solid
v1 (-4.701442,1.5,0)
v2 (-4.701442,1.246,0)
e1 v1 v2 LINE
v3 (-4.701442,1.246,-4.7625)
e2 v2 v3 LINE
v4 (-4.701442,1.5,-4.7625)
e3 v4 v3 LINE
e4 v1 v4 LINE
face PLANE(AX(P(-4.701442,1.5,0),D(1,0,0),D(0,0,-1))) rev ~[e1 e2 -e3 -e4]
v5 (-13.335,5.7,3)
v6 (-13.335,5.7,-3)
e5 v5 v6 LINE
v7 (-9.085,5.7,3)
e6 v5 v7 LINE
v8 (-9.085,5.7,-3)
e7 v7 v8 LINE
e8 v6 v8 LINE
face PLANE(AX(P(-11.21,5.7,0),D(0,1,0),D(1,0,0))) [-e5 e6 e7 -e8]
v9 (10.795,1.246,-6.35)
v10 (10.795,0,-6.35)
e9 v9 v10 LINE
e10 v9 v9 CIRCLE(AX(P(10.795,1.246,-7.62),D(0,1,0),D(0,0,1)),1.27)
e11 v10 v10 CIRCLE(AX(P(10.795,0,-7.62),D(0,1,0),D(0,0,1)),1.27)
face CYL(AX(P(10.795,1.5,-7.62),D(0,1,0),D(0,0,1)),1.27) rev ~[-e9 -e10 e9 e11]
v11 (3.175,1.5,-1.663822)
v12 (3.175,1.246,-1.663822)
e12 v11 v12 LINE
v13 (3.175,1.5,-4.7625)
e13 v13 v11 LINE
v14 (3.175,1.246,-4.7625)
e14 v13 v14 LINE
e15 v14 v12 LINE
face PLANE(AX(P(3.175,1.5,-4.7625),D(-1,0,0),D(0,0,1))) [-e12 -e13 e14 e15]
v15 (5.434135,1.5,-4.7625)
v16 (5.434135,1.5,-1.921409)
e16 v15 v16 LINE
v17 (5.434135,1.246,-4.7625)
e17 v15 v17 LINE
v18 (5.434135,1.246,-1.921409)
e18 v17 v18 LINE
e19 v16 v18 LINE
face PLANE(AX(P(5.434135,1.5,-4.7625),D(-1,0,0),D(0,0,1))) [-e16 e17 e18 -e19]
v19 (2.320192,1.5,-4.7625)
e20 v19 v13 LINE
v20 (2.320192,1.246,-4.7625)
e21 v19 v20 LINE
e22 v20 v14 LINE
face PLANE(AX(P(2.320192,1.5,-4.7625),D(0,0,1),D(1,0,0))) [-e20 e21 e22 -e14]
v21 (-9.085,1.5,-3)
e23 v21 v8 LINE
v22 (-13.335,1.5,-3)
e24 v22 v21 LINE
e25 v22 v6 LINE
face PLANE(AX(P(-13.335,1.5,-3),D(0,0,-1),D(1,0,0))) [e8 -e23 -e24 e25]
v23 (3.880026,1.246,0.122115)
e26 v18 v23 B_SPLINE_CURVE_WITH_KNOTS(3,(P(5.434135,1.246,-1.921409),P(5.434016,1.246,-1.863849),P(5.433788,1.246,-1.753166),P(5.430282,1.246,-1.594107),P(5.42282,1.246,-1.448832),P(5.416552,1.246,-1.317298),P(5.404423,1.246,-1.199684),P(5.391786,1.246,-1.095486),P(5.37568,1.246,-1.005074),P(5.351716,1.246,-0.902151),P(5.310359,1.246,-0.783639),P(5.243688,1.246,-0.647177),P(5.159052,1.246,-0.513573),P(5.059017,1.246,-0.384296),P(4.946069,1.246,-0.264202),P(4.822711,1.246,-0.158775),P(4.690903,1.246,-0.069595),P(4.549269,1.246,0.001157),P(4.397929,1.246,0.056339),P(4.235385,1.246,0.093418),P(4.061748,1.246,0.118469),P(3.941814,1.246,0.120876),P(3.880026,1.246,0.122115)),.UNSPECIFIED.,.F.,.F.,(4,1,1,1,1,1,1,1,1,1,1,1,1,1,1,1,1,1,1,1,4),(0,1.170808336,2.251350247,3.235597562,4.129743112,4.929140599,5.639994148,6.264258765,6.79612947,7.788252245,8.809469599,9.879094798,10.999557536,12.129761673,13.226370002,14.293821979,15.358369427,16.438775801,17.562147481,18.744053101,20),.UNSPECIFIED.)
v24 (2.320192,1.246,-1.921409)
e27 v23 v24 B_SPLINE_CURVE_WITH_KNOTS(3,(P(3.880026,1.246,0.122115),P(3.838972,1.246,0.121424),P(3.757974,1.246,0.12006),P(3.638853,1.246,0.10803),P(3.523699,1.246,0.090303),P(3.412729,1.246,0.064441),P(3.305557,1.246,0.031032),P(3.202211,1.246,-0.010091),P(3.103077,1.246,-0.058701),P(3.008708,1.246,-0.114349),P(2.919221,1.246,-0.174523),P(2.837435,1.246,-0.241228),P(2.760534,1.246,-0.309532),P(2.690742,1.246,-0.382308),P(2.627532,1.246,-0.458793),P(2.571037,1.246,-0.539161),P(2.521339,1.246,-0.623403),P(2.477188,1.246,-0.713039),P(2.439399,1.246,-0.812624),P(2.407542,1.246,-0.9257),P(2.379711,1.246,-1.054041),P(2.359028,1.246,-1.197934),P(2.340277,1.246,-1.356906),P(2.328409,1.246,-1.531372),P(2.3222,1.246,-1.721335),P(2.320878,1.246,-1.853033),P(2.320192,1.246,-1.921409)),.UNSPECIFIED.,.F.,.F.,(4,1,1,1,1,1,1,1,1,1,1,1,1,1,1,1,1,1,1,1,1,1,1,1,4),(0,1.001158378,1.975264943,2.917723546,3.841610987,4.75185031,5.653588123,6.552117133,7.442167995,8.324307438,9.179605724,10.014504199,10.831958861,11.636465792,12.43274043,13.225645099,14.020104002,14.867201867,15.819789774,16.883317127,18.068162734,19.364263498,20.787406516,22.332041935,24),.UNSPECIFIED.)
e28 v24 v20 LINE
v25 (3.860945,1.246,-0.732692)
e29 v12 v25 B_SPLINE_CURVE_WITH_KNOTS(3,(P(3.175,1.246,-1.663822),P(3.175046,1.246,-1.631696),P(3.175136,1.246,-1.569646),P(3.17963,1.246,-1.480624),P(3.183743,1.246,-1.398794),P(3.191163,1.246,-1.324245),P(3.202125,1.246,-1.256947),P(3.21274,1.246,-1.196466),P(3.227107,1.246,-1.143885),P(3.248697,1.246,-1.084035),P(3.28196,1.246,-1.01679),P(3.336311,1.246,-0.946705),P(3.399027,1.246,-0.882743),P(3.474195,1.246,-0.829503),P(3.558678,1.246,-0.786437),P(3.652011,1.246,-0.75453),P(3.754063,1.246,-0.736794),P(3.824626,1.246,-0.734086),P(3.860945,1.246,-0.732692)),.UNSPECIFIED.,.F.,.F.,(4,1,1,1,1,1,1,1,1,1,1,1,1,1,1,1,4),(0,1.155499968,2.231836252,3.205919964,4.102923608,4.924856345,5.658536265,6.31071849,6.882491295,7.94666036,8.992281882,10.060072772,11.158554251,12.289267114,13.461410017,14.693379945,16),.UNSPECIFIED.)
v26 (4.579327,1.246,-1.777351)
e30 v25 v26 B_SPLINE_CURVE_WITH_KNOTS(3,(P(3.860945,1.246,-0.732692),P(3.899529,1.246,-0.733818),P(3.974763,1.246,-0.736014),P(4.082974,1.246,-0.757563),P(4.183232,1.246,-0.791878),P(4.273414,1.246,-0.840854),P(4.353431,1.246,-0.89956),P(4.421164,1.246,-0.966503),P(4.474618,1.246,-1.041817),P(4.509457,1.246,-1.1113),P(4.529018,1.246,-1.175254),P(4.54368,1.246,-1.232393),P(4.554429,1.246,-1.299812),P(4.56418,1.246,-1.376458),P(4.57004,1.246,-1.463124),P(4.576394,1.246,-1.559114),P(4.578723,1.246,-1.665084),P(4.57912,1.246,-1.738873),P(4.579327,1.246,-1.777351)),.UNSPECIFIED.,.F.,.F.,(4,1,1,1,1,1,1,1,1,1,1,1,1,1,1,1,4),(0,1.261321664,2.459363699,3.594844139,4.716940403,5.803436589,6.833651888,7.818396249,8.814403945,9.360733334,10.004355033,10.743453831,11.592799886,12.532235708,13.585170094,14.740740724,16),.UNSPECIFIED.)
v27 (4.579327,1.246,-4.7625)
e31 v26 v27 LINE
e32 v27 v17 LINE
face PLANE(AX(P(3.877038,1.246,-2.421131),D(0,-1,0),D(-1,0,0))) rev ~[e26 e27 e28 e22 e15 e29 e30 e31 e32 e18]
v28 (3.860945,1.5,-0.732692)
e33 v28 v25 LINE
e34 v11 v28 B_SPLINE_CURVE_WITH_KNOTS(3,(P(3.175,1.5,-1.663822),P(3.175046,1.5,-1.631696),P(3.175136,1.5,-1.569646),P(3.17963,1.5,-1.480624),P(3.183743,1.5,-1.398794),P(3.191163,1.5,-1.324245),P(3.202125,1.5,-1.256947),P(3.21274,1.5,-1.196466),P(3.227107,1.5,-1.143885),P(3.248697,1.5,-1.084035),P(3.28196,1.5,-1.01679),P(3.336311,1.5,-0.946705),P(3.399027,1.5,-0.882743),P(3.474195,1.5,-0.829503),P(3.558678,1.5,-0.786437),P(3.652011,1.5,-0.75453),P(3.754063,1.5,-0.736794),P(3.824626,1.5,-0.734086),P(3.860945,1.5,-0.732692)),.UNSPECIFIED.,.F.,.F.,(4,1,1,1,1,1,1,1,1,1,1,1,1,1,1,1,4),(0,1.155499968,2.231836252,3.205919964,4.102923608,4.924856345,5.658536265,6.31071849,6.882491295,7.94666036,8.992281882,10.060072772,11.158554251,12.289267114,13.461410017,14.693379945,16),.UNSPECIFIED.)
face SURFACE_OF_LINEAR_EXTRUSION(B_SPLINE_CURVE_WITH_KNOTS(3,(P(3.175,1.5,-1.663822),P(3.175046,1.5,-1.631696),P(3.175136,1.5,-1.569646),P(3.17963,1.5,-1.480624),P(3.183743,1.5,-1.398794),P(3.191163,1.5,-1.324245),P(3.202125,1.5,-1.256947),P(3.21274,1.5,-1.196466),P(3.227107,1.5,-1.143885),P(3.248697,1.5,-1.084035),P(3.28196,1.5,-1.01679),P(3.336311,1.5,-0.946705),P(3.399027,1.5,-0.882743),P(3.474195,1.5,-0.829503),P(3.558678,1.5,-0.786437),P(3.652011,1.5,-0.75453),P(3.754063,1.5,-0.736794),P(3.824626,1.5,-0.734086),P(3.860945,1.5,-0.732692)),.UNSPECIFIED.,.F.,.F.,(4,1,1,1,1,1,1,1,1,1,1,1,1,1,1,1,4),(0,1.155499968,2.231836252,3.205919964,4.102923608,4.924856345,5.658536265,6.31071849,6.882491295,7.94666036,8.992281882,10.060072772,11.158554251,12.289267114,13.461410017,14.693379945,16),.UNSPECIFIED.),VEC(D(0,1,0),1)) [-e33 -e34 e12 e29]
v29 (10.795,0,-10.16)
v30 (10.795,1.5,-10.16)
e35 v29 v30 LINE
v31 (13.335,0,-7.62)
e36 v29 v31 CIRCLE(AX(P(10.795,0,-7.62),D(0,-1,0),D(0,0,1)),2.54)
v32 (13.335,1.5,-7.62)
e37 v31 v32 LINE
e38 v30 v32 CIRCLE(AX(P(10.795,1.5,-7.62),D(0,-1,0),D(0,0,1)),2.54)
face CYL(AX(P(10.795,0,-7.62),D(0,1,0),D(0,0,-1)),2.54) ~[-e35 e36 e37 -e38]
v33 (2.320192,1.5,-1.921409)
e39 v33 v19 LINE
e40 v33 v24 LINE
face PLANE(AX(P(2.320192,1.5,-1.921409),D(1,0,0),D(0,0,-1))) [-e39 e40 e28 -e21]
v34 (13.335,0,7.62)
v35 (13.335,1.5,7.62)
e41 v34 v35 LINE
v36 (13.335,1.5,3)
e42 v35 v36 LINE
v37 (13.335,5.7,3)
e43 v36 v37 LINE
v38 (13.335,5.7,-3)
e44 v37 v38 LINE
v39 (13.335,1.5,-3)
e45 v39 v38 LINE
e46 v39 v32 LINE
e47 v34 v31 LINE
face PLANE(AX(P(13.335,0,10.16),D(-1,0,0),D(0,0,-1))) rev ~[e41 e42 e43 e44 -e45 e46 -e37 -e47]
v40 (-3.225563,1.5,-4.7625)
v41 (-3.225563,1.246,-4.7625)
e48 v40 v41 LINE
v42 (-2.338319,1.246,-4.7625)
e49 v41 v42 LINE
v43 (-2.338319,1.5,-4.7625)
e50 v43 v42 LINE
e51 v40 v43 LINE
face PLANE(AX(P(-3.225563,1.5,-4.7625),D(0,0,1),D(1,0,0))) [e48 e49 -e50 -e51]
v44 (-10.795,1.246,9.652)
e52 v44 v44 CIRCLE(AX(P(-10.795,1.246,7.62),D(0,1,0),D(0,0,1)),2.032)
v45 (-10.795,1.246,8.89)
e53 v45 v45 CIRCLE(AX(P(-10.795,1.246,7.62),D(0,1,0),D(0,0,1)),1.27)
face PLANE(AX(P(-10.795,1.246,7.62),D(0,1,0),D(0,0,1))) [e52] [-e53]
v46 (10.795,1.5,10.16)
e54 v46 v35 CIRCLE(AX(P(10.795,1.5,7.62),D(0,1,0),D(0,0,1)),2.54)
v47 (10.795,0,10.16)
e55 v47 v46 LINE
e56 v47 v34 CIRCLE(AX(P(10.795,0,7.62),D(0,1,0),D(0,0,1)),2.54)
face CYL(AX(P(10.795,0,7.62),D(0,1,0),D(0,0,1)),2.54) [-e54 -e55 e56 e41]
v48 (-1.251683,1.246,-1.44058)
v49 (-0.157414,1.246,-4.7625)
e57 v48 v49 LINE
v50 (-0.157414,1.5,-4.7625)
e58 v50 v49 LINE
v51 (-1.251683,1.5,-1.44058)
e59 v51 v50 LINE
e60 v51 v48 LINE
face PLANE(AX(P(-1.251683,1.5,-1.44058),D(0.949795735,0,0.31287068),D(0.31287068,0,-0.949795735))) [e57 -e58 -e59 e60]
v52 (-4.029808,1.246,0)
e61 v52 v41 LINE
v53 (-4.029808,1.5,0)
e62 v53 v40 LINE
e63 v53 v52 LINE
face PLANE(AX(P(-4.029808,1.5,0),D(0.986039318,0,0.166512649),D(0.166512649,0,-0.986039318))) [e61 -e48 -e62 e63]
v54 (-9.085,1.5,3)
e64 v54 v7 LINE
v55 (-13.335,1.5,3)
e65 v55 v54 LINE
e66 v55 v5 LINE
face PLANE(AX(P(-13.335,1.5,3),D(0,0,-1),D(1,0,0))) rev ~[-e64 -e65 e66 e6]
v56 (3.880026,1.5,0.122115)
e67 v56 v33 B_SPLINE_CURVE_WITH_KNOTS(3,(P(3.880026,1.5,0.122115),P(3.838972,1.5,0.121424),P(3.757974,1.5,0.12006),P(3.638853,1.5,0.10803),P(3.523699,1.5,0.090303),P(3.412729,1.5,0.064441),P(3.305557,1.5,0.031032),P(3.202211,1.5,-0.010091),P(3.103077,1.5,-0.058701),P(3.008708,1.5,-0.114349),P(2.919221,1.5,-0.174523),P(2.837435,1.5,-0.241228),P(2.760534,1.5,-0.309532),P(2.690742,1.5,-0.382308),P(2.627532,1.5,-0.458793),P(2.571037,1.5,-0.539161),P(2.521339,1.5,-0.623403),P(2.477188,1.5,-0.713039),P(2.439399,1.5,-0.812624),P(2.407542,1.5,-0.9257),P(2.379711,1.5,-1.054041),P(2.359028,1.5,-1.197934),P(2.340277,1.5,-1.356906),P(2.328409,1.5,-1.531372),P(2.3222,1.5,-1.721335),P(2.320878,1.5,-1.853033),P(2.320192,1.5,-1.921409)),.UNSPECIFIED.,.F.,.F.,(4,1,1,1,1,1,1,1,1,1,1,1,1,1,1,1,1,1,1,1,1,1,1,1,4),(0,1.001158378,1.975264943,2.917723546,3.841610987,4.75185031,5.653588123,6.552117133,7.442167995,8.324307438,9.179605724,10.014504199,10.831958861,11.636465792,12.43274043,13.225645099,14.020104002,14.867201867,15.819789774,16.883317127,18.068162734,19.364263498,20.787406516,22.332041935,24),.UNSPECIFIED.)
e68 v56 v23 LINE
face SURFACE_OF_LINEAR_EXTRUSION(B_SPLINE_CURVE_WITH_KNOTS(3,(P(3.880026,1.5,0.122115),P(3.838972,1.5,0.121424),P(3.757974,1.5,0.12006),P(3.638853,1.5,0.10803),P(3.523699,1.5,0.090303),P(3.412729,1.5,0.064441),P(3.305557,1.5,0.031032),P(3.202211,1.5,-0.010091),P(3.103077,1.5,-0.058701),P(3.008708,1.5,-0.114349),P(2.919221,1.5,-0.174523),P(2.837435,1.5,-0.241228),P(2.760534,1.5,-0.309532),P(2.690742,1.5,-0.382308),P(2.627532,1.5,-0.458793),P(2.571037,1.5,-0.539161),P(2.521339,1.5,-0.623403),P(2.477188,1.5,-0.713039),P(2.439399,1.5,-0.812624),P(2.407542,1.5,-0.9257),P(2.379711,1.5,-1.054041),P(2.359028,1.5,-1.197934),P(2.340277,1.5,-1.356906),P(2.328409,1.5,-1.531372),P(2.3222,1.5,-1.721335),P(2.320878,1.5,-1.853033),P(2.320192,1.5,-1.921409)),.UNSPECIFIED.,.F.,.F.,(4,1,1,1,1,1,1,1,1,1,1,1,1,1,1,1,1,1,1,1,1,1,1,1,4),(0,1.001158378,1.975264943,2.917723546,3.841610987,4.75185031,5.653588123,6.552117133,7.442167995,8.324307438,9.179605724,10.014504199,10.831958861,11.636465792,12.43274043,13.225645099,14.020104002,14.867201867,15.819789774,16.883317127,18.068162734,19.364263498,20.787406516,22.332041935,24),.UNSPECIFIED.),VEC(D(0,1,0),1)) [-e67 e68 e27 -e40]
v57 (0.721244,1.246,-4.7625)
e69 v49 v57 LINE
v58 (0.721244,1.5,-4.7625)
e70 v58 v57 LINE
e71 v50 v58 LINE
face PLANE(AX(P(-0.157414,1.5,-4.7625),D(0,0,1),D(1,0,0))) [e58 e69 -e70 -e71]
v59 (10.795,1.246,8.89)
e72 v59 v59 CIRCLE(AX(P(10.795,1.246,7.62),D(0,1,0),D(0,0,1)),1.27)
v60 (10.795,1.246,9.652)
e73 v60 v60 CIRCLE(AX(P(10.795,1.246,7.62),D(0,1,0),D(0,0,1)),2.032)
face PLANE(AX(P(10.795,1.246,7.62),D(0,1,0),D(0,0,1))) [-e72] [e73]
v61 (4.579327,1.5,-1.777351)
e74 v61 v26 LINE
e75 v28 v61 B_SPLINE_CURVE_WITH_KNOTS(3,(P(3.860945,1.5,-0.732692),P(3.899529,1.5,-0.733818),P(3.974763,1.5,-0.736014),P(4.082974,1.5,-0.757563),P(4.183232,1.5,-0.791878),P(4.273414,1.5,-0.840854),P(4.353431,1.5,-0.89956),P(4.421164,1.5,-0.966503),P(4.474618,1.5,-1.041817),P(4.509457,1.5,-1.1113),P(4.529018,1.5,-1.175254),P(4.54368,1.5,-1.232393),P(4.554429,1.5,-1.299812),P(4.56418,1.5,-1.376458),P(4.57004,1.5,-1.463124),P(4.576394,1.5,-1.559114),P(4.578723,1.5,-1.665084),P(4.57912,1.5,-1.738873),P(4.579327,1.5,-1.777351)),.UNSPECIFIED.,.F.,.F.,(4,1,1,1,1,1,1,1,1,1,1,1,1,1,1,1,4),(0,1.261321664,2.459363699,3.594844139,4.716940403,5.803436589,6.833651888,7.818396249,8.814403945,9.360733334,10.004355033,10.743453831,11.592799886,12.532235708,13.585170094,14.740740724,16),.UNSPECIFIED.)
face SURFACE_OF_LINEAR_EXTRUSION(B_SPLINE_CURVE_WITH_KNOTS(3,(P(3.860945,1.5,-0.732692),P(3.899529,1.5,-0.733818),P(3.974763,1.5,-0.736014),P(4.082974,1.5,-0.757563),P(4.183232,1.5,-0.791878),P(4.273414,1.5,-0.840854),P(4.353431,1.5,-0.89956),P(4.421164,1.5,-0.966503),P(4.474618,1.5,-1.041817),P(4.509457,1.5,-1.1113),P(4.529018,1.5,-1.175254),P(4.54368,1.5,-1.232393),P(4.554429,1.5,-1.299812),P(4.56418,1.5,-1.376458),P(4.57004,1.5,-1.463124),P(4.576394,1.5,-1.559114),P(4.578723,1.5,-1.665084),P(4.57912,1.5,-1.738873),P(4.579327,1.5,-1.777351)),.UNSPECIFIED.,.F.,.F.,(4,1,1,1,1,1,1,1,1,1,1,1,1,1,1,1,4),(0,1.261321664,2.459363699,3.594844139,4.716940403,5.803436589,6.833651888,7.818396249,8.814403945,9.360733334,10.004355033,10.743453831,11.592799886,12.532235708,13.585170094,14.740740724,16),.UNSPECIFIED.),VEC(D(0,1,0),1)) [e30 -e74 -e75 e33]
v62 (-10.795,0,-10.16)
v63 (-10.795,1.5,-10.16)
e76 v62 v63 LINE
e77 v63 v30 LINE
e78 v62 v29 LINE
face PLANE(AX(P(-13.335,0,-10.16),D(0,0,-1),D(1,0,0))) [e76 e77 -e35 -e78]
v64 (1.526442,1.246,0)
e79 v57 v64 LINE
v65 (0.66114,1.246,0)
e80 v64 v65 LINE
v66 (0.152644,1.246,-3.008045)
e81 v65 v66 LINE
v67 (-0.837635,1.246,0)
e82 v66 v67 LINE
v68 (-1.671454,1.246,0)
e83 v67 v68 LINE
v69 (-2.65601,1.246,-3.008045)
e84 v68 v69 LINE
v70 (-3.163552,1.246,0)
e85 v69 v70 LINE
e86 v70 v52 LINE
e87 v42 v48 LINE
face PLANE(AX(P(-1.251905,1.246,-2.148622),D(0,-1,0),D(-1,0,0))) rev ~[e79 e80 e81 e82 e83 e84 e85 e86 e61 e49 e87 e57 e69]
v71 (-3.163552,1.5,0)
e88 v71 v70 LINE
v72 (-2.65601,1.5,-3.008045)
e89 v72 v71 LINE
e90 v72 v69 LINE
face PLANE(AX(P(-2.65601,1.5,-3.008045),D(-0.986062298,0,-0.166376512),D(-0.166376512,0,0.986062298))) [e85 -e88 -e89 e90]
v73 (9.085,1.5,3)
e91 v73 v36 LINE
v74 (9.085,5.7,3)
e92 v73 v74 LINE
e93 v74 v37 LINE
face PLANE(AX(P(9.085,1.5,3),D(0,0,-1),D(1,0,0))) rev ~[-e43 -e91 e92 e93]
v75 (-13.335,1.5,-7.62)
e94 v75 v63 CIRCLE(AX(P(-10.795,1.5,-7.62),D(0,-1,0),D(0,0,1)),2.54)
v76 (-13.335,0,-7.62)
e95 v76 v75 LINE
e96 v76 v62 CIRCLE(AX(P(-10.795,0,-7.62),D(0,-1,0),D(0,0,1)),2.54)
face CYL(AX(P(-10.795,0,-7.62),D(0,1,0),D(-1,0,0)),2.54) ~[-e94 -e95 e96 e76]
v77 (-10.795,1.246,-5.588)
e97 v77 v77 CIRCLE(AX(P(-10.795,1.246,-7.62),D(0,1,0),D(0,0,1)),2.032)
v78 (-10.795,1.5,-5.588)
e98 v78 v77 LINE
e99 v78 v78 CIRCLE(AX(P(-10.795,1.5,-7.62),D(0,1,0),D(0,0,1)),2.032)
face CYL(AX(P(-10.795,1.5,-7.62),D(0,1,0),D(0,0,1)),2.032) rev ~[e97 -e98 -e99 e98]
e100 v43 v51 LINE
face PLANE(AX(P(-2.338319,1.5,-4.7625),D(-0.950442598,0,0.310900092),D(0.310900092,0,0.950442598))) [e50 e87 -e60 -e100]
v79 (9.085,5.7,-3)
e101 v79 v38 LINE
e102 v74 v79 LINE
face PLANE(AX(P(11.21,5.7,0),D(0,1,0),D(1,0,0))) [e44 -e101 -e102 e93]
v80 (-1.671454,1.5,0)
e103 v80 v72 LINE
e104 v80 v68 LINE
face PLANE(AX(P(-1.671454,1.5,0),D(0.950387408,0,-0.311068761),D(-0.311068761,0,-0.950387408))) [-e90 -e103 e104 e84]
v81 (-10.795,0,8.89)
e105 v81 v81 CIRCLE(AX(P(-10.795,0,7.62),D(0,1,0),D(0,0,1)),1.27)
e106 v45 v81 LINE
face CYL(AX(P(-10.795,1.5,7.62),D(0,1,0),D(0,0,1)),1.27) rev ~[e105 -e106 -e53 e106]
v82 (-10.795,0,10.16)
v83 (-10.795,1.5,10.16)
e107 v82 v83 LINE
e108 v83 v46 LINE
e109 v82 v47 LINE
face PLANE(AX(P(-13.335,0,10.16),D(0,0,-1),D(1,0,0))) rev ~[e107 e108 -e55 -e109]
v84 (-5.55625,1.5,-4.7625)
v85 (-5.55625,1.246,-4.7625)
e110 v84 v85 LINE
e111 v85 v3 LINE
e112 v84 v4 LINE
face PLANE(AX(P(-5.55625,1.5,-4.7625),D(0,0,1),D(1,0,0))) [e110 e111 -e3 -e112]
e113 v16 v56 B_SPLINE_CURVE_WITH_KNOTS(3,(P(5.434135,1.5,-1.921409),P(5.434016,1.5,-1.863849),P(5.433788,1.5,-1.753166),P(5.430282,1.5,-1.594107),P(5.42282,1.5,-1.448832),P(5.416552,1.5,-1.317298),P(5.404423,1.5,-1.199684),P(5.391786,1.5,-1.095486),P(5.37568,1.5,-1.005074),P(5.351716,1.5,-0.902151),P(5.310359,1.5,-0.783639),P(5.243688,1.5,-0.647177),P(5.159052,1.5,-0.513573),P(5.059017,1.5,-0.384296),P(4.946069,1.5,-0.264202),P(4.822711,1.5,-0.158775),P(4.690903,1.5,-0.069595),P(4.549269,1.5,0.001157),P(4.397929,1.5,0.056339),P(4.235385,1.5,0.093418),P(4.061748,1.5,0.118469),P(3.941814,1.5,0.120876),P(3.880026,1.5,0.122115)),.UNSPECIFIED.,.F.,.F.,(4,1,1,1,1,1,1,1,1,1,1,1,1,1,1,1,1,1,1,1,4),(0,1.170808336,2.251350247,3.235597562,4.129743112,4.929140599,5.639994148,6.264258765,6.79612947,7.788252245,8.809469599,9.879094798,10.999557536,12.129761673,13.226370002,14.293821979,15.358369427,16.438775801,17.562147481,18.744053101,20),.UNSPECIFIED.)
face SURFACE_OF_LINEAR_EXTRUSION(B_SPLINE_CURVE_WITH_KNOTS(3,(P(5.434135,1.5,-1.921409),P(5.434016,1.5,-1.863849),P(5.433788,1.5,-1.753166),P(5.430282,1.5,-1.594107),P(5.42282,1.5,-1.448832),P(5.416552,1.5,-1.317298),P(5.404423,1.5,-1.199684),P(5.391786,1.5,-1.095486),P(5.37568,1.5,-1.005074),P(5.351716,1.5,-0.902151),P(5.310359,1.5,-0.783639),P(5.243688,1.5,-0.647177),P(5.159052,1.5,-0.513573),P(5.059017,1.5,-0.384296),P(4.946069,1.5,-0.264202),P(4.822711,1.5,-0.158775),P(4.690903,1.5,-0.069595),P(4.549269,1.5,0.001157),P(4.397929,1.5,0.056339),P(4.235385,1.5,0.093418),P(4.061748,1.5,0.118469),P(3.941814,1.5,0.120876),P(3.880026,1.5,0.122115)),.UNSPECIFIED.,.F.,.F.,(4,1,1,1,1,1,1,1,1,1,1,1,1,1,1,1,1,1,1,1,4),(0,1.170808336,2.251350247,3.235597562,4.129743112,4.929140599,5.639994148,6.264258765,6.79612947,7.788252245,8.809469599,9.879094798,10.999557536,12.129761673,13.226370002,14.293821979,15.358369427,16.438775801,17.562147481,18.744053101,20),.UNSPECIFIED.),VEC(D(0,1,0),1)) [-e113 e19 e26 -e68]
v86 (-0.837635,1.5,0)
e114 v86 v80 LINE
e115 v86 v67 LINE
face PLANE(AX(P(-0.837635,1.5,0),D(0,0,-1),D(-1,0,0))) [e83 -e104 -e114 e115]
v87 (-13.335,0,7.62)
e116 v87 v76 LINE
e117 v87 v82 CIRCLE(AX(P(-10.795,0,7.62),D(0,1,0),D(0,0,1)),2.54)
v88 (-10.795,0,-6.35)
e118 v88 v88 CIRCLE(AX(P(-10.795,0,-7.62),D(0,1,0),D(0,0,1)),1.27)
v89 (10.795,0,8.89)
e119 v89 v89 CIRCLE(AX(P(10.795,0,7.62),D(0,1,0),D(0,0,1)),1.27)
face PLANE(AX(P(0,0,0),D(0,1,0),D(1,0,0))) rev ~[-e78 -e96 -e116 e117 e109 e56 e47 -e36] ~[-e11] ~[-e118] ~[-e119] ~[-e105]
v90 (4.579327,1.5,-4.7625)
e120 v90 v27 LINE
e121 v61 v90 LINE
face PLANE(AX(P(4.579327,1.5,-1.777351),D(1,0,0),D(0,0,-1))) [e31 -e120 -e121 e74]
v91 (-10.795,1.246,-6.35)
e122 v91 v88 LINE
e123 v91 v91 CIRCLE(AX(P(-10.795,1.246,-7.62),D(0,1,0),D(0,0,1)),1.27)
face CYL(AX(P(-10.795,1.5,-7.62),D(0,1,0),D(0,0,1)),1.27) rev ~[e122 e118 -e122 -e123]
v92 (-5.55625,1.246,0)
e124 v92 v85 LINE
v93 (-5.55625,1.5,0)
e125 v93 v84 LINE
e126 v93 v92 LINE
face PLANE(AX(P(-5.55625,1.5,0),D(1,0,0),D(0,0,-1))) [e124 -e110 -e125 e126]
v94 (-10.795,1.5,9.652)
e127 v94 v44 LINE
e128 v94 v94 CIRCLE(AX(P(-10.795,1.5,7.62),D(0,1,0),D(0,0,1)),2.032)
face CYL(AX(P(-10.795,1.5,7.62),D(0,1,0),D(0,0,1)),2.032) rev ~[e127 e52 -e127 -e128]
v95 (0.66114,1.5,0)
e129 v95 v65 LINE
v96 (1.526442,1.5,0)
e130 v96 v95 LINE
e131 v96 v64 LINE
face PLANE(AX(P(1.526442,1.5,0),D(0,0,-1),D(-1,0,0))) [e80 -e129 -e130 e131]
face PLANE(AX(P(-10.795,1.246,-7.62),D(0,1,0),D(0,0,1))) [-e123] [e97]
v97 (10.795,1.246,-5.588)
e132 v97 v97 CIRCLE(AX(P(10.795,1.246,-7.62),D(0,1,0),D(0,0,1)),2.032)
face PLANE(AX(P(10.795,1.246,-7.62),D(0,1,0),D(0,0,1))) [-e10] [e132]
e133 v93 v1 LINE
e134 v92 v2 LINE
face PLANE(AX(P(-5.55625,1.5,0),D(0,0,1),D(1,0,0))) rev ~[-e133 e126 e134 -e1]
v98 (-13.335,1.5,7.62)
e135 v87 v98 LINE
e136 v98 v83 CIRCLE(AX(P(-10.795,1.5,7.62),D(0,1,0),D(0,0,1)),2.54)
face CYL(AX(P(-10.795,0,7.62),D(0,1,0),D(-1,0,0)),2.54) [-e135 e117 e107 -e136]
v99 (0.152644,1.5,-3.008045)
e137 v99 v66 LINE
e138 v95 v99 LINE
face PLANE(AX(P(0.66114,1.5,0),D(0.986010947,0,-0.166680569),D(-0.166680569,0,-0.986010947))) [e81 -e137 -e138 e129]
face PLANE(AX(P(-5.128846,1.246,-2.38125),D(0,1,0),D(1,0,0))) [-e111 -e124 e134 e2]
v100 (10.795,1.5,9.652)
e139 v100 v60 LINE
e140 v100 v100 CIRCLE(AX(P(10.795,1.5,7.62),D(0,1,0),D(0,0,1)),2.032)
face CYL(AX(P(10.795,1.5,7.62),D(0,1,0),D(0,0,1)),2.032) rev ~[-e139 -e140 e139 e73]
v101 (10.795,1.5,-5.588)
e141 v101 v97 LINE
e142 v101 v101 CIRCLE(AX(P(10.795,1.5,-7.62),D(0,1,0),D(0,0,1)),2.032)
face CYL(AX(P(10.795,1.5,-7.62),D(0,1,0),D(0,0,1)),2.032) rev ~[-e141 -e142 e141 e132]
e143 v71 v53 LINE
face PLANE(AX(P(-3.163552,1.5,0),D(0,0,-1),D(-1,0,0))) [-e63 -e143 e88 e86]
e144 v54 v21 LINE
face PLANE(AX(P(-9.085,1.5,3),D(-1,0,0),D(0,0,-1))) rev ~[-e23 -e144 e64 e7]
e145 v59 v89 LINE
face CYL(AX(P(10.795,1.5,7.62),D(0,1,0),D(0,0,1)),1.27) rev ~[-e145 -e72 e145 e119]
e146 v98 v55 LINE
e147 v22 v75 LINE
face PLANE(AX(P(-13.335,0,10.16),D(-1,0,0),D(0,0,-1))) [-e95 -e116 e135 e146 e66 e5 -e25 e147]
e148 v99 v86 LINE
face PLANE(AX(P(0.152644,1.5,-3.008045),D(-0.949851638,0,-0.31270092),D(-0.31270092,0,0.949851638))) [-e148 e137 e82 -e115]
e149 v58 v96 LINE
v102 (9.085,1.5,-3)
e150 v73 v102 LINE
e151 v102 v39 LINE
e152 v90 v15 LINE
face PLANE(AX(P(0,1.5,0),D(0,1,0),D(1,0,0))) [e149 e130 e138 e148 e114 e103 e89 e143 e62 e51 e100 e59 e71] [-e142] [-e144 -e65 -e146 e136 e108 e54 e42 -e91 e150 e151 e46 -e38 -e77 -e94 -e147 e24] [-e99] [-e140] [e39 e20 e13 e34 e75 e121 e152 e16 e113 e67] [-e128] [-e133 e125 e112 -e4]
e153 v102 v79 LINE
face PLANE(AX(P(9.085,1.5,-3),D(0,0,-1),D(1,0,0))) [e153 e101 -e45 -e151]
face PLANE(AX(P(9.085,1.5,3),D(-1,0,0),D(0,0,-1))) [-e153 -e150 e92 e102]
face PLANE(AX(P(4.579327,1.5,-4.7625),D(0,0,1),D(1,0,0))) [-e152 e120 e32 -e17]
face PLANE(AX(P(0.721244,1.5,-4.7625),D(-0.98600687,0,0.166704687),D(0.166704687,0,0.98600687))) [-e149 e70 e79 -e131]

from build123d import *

# Parameters (mm, degrees)
SKETCH1_W           = 26.67
SKETCH1_H           = 20.32
BOSS_EXTRUDE1_DEPTH = 1.5
SKETCH2_R           = 1.27
CUT_EXTRUDE1_DEPTH  = 17.831453443
FILLET1_R           = 2.54
SKETCH3_W           = 0.854807692
SKETCH3_H           = 4.7625
CUT_EXTRUDE2_DEPTH  = 0.254
SKETCH4_R           = 2.032
SKETCH4_R_2         = 1.27
CUT_EXTRUDE3_DEPTH  = 0.254
SKETCH5_W           = 4.25
SKETCH5_H           = 6
BOSS_EXTRUDE3_DEPTH = 4.2


with BuildPart() as part:
    # Sketch1 → Boss-Extrude1 (new body)
    with BuildSketch(Plane(origin=(0, 0, 0), x_dir=(1, 0, 0), z_dir=(0, 1, 0))):
        Rectangle(SKETCH1_W, SKETCH1_H)
    extrude(amount=BOSS_EXTRUDE1_DEPTH)

    # Sketch2 → Cut-Extrude1 (cut, through all)
    with BuildSketch(Plane(origin=(0, 1.5, 0), x_dir=(1, 0, 0), z_dir=(0, 1, 0))):
        with Locations(Location((10.795, 7.62, 0), (0, 0, 270))):
            Circle(SKETCH2_R)
        with Locations(Location((-10.795, 7.62, 0), (0, 0, 270))):
            Circle(SKETCH2_R)
        with Locations(Location((-10.795, -7.62, 0), (0, 0, 270))):
            Circle(SKETCH2_R)
        with Locations(Location((10.795, -7.62, 0), (0, 0, 270))):
            Circle(SKETCH2_R)
    extrude(amount=-CUT_EXTRUDE1_DEPTH, mode=Mode.SUBTRACT)

    # Fillet1
    fillet1_edges = [part.edges().sort_by_distance(p)[0] for p in [
        (13.335, 0.75, 10.16),
        (-13.335, 0.75, 10.16),
        (-13.335, 0.75, -10.16),
        (13.335, 0.75, -10.16),
    ]]
    fillet(fillet1_edges, radius=FILLET1_R)

    # Sketch3 → Cut-Extrude2 (cut)
    with BuildSketch(Plane(origin=(0, 1.5, 0), x_dir=(1, 0, 0), z_dir=(0, 1, 0))):
        with Locations((-5.128846154, 2.38125)):
            Rectangle(SKETCH3_W, SKETCH3_H)
        Polygon((-3.225563401, 4.7625), (-2.33831881, 4.7625), (-1.251682692, 1.440579928), (-0.157414363, 4.7625), (0.72124399, 4.7625), (1.526442308, 0), (0.661140325, 0), (0.152644231, 3.008045373), (-0.837635216, 0), (-1.671454327, 0), (-2.656009615, 3.008045373), (-3.163551683, 0), (-4.029807692, 0), align=None)
        with BuildLine():
            Line((2.320192308, 4.7625), (3.175, 4.7625))
            Line((3.175, 4.7625), (3.175, 1.663822115))
            add(Edge.make_bspline(
                [(3.175, 1.663822115), (3.17504648, 1.631696367), (3.175136256, 1.569645816), (3.179630493, 1.480623591), (3.18374303, 1.398793527), (3.191163214, 1.32424521), (3.202125369, 1.256946752), (3.212740313, 1.19646585), (3.227106588, 1.143885348), (3.248696804, 1.08403497), (3.281960239, 1.016789802), (3.336310846, 0.946705344), (3.399026797, 0.882743105), (3.474195476, 0.82950336), (3.558678424, 0.786437205), (3.652011444, 0.75452995), (3.75406297, 0.736793753), (3.824626003, 0.734085998), (3.860945012, 0.732692308)],
                knots=[0, 0, 0, 0, 1.155499968, 2.231836252, 3.205919964, 4.102923608, 4.924856345, 5.658536265, 6.31071849, 6.882491295, 7.94666036, 8.992281882, 10.060072772, 11.158554251, 12.289267114, 13.461410017, 14.693379945, 16, 16, 16, 16], degree=3))
            add(Edge.make_bspline(
                [(3.860945012, 0.732692308), (3.899529477, 0.73381823), (3.974762653, 0.736013589), (4.082973598, 0.757563409), (4.183231653, 0.791878102), (4.273414012, 0.840853915), (4.353430929, 0.89956001), (4.421163572, 0.966503355), (4.474617926, 1.041817469), (4.509457485, 1.111300474), (4.529018182, 1.17525353), (4.543679898, 1.232393158), (4.554428558, 1.299812263), (4.564180096, 1.376457951), (4.570040019, 1.463124123), (4.57639415, 1.559113798), (4.578722998, 1.665083764), (4.579119934, 1.73887264), (4.579326923, 1.777351262)],
                knots=[0, 0, 0, 0, 1.261321664, 2.459363699, 3.594844139, 4.716940403, 5.803436589, 6.833651888, 7.818396249, 8.814403945, 9.360733334, 10.004355033, 10.743453831, 11.592799886, 12.532235708, 13.585170094, 14.740740724, 16, 16, 16, 16], degree=3))
            Line((4.579326923, 1.777351262), (4.579326923, 4.7625))
            Line((4.579326923, 4.7625), (5.434134615, 4.7625))
            Line((5.434134615, 4.7625), (5.434134615, 1.921409255))
            add(Edge.make_bspline(
                [(5.434134615, 1.921409255), (5.43401591, 1.863848892), (5.433787651, 1.753165928), (5.430282276, 1.59410672), (5.422819969, 1.448831648), (5.416552491, 1.317298262), (5.404422776, 1.199683761), (5.391786458, 1.095485896), (5.375680384, 1.00507392), (5.351715514, 0.902150874), (5.310359243, 0.783638756), (5.243687513, 0.647177189), (5.159052066, 0.513573049), (5.059017198, 0.384296074), (4.946068681, 0.26420193), (4.822710827, 0.158774817), (4.690903483, 0.069594847), (4.549269359, -0.00115742), (4.397928993, -0.056338855), (4.235384983, -0.093418), (4.061748173, -0.118469136), (3.941813946, -0.120875606), (3.880025541, -0.122115385)],
                knots=[0, 0, 0, 0, 1.170808336, 2.251350247, 3.235597562, 4.129743112, 4.929140599, 5.639994148, 6.264258765, 6.79612947, 7.788252245, 8.809469599, 9.879094798, 10.999557536, 12.129761673, 13.226370002, 14.293821979, 15.358369427, 16.438775801, 17.562147481, 18.744053101, 20, 20, 20, 20], degree=3))
            add(Edge.make_bspline(
                [(3.880025541, -0.122115385), (3.838972095, -0.121423894), (3.757974489, -0.120059596), (3.638853299, -0.108030054), (3.523699269, -0.090303032), (3.412728772, -0.064441133), (3.305556652, -0.031032389), (3.20221138, 0.010091447), (3.103077013, 0.058700993), (3.008708293, 0.114349146), (2.919221348, 0.174523044), (2.8374349, 0.241228342), (2.760534484, 0.309531933), (2.690741722, 0.382308322), (2.627532409, 0.458793479), (2.571036723, 0.539160746), (2.521338598, 0.623402985), (2.477187905, 0.713038656), (2.439399222, 0.812623617), (2.407541942, 0.925700146), (2.379710672, 1.054040605), (2.359028115, 1.197934139), (2.340277187, 1.356906489), (2.328408884, 1.531371804), (2.32220004, 1.721335089), (2.320878462, 1.853032696), (2.320192308, 1.921409255)],
                knots=[0, 0, 0, 0, 1.001158378, 1.975264943, 2.917723546, 3.841610987, 4.75185031, 5.653588123, 6.552117133, 7.442167995, 8.324307438, 9.179605724, 10.014504199, 10.831958861, 11.636465792, 12.43274043, 13.225645099, 14.020104002, 14.867201867, 15.819789774, 16.883317127, 18.068162734, 19.364263498, 20.787406516, 22.332041935, 24, 24, 24, 24], degree=3))
            Line((2.320192308, 1.921409255), (2.320192308, 4.7625))
        make_face()
    extrude(amount=-CUT_EXTRUDE2_DEPTH, mode=Mode.SUBTRACT)

    # Sketch4 → Cut-Extrude3 (cut)
    # profile 1 of 4: a face of its own
    with BuildSketch(Plane(origin=(0, 1.5, 0), x_dir=(1, 0, 0), z_dir=(0, 1, 0))):
        with Locations(Location((-10.795, 7.62, 0), (0, 0, 270))):
            Circle(SKETCH4_R)
        with Locations(Location((-10.795, 7.62, 0), (0, 0, 270))):
            Circle(SKETCH4_R_2, mode=Mode.SUBTRACT)
    # profile 2 of 4: a face of its own
    with BuildSketch(Plane(origin=(0, 1.5, 0), x_dir=(1, 0, 0), z_dir=(0, 1, 0))):
        with Locations(Location((10.795, 7.62, 0), (0, 0, 270))):
            Circle(SKETCH4_R)
        with Locations(Location((10.795, 7.62, 0), (0, 0, 270))):
            Circle(SKETCH4_R_2, mode=Mode.SUBTRACT)
    # profile 3 of 4: a face of its own
    with BuildSketch(Plane(origin=(0, 1.5, 0), x_dir=(1, 0, 0), z_dir=(0, 1, 0))):
        with Locations(Location((10.795, -7.62, 0), (0, 0, 270))):
            Circle(SKETCH4_R)
        with Locations(Location((10.795, -7.62, 0), (0, 0, 270))):
            Circle(SKETCH4_R_2, mode=Mode.SUBTRACT)
    # profile 4 of 4: a face of its own
    with BuildSketch(Plane(origin=(0, 1.5, 0), x_dir=(1, 0, 0), z_dir=(0, 1, 0))):
        with Locations(Location((-10.795, -7.62, 0), (0, 0, 270))):
            Circle(SKETCH4_R)
        with Locations(Location((-10.795, -7.62, 0), (0, 0, 270))):
            Circle(SKETCH4_R_2, mode=Mode.SUBTRACT)
    extrude(amount=-CUT_EXTRUDE3_DEPTH, mode=Mode.SUBTRACT)

    # Sketch5 → Boss-Extrude3 (add)
    with BuildSketch(Plane(origin=(0, 1.5, 0), x_dir=(1, 0, 0), z_dir=(0, 1, 0))):
        with Locations((-11.21, 0)):
            Rectangle(SKETCH5_W, SKETCH5_H)
        with Locations((11.21, 0)):
            Rectangle(SKETCH5_W, SKETCH5_H)
    extrude(amount=BOSS_EXTRUDE3_DEPTH)


solid = part.part
